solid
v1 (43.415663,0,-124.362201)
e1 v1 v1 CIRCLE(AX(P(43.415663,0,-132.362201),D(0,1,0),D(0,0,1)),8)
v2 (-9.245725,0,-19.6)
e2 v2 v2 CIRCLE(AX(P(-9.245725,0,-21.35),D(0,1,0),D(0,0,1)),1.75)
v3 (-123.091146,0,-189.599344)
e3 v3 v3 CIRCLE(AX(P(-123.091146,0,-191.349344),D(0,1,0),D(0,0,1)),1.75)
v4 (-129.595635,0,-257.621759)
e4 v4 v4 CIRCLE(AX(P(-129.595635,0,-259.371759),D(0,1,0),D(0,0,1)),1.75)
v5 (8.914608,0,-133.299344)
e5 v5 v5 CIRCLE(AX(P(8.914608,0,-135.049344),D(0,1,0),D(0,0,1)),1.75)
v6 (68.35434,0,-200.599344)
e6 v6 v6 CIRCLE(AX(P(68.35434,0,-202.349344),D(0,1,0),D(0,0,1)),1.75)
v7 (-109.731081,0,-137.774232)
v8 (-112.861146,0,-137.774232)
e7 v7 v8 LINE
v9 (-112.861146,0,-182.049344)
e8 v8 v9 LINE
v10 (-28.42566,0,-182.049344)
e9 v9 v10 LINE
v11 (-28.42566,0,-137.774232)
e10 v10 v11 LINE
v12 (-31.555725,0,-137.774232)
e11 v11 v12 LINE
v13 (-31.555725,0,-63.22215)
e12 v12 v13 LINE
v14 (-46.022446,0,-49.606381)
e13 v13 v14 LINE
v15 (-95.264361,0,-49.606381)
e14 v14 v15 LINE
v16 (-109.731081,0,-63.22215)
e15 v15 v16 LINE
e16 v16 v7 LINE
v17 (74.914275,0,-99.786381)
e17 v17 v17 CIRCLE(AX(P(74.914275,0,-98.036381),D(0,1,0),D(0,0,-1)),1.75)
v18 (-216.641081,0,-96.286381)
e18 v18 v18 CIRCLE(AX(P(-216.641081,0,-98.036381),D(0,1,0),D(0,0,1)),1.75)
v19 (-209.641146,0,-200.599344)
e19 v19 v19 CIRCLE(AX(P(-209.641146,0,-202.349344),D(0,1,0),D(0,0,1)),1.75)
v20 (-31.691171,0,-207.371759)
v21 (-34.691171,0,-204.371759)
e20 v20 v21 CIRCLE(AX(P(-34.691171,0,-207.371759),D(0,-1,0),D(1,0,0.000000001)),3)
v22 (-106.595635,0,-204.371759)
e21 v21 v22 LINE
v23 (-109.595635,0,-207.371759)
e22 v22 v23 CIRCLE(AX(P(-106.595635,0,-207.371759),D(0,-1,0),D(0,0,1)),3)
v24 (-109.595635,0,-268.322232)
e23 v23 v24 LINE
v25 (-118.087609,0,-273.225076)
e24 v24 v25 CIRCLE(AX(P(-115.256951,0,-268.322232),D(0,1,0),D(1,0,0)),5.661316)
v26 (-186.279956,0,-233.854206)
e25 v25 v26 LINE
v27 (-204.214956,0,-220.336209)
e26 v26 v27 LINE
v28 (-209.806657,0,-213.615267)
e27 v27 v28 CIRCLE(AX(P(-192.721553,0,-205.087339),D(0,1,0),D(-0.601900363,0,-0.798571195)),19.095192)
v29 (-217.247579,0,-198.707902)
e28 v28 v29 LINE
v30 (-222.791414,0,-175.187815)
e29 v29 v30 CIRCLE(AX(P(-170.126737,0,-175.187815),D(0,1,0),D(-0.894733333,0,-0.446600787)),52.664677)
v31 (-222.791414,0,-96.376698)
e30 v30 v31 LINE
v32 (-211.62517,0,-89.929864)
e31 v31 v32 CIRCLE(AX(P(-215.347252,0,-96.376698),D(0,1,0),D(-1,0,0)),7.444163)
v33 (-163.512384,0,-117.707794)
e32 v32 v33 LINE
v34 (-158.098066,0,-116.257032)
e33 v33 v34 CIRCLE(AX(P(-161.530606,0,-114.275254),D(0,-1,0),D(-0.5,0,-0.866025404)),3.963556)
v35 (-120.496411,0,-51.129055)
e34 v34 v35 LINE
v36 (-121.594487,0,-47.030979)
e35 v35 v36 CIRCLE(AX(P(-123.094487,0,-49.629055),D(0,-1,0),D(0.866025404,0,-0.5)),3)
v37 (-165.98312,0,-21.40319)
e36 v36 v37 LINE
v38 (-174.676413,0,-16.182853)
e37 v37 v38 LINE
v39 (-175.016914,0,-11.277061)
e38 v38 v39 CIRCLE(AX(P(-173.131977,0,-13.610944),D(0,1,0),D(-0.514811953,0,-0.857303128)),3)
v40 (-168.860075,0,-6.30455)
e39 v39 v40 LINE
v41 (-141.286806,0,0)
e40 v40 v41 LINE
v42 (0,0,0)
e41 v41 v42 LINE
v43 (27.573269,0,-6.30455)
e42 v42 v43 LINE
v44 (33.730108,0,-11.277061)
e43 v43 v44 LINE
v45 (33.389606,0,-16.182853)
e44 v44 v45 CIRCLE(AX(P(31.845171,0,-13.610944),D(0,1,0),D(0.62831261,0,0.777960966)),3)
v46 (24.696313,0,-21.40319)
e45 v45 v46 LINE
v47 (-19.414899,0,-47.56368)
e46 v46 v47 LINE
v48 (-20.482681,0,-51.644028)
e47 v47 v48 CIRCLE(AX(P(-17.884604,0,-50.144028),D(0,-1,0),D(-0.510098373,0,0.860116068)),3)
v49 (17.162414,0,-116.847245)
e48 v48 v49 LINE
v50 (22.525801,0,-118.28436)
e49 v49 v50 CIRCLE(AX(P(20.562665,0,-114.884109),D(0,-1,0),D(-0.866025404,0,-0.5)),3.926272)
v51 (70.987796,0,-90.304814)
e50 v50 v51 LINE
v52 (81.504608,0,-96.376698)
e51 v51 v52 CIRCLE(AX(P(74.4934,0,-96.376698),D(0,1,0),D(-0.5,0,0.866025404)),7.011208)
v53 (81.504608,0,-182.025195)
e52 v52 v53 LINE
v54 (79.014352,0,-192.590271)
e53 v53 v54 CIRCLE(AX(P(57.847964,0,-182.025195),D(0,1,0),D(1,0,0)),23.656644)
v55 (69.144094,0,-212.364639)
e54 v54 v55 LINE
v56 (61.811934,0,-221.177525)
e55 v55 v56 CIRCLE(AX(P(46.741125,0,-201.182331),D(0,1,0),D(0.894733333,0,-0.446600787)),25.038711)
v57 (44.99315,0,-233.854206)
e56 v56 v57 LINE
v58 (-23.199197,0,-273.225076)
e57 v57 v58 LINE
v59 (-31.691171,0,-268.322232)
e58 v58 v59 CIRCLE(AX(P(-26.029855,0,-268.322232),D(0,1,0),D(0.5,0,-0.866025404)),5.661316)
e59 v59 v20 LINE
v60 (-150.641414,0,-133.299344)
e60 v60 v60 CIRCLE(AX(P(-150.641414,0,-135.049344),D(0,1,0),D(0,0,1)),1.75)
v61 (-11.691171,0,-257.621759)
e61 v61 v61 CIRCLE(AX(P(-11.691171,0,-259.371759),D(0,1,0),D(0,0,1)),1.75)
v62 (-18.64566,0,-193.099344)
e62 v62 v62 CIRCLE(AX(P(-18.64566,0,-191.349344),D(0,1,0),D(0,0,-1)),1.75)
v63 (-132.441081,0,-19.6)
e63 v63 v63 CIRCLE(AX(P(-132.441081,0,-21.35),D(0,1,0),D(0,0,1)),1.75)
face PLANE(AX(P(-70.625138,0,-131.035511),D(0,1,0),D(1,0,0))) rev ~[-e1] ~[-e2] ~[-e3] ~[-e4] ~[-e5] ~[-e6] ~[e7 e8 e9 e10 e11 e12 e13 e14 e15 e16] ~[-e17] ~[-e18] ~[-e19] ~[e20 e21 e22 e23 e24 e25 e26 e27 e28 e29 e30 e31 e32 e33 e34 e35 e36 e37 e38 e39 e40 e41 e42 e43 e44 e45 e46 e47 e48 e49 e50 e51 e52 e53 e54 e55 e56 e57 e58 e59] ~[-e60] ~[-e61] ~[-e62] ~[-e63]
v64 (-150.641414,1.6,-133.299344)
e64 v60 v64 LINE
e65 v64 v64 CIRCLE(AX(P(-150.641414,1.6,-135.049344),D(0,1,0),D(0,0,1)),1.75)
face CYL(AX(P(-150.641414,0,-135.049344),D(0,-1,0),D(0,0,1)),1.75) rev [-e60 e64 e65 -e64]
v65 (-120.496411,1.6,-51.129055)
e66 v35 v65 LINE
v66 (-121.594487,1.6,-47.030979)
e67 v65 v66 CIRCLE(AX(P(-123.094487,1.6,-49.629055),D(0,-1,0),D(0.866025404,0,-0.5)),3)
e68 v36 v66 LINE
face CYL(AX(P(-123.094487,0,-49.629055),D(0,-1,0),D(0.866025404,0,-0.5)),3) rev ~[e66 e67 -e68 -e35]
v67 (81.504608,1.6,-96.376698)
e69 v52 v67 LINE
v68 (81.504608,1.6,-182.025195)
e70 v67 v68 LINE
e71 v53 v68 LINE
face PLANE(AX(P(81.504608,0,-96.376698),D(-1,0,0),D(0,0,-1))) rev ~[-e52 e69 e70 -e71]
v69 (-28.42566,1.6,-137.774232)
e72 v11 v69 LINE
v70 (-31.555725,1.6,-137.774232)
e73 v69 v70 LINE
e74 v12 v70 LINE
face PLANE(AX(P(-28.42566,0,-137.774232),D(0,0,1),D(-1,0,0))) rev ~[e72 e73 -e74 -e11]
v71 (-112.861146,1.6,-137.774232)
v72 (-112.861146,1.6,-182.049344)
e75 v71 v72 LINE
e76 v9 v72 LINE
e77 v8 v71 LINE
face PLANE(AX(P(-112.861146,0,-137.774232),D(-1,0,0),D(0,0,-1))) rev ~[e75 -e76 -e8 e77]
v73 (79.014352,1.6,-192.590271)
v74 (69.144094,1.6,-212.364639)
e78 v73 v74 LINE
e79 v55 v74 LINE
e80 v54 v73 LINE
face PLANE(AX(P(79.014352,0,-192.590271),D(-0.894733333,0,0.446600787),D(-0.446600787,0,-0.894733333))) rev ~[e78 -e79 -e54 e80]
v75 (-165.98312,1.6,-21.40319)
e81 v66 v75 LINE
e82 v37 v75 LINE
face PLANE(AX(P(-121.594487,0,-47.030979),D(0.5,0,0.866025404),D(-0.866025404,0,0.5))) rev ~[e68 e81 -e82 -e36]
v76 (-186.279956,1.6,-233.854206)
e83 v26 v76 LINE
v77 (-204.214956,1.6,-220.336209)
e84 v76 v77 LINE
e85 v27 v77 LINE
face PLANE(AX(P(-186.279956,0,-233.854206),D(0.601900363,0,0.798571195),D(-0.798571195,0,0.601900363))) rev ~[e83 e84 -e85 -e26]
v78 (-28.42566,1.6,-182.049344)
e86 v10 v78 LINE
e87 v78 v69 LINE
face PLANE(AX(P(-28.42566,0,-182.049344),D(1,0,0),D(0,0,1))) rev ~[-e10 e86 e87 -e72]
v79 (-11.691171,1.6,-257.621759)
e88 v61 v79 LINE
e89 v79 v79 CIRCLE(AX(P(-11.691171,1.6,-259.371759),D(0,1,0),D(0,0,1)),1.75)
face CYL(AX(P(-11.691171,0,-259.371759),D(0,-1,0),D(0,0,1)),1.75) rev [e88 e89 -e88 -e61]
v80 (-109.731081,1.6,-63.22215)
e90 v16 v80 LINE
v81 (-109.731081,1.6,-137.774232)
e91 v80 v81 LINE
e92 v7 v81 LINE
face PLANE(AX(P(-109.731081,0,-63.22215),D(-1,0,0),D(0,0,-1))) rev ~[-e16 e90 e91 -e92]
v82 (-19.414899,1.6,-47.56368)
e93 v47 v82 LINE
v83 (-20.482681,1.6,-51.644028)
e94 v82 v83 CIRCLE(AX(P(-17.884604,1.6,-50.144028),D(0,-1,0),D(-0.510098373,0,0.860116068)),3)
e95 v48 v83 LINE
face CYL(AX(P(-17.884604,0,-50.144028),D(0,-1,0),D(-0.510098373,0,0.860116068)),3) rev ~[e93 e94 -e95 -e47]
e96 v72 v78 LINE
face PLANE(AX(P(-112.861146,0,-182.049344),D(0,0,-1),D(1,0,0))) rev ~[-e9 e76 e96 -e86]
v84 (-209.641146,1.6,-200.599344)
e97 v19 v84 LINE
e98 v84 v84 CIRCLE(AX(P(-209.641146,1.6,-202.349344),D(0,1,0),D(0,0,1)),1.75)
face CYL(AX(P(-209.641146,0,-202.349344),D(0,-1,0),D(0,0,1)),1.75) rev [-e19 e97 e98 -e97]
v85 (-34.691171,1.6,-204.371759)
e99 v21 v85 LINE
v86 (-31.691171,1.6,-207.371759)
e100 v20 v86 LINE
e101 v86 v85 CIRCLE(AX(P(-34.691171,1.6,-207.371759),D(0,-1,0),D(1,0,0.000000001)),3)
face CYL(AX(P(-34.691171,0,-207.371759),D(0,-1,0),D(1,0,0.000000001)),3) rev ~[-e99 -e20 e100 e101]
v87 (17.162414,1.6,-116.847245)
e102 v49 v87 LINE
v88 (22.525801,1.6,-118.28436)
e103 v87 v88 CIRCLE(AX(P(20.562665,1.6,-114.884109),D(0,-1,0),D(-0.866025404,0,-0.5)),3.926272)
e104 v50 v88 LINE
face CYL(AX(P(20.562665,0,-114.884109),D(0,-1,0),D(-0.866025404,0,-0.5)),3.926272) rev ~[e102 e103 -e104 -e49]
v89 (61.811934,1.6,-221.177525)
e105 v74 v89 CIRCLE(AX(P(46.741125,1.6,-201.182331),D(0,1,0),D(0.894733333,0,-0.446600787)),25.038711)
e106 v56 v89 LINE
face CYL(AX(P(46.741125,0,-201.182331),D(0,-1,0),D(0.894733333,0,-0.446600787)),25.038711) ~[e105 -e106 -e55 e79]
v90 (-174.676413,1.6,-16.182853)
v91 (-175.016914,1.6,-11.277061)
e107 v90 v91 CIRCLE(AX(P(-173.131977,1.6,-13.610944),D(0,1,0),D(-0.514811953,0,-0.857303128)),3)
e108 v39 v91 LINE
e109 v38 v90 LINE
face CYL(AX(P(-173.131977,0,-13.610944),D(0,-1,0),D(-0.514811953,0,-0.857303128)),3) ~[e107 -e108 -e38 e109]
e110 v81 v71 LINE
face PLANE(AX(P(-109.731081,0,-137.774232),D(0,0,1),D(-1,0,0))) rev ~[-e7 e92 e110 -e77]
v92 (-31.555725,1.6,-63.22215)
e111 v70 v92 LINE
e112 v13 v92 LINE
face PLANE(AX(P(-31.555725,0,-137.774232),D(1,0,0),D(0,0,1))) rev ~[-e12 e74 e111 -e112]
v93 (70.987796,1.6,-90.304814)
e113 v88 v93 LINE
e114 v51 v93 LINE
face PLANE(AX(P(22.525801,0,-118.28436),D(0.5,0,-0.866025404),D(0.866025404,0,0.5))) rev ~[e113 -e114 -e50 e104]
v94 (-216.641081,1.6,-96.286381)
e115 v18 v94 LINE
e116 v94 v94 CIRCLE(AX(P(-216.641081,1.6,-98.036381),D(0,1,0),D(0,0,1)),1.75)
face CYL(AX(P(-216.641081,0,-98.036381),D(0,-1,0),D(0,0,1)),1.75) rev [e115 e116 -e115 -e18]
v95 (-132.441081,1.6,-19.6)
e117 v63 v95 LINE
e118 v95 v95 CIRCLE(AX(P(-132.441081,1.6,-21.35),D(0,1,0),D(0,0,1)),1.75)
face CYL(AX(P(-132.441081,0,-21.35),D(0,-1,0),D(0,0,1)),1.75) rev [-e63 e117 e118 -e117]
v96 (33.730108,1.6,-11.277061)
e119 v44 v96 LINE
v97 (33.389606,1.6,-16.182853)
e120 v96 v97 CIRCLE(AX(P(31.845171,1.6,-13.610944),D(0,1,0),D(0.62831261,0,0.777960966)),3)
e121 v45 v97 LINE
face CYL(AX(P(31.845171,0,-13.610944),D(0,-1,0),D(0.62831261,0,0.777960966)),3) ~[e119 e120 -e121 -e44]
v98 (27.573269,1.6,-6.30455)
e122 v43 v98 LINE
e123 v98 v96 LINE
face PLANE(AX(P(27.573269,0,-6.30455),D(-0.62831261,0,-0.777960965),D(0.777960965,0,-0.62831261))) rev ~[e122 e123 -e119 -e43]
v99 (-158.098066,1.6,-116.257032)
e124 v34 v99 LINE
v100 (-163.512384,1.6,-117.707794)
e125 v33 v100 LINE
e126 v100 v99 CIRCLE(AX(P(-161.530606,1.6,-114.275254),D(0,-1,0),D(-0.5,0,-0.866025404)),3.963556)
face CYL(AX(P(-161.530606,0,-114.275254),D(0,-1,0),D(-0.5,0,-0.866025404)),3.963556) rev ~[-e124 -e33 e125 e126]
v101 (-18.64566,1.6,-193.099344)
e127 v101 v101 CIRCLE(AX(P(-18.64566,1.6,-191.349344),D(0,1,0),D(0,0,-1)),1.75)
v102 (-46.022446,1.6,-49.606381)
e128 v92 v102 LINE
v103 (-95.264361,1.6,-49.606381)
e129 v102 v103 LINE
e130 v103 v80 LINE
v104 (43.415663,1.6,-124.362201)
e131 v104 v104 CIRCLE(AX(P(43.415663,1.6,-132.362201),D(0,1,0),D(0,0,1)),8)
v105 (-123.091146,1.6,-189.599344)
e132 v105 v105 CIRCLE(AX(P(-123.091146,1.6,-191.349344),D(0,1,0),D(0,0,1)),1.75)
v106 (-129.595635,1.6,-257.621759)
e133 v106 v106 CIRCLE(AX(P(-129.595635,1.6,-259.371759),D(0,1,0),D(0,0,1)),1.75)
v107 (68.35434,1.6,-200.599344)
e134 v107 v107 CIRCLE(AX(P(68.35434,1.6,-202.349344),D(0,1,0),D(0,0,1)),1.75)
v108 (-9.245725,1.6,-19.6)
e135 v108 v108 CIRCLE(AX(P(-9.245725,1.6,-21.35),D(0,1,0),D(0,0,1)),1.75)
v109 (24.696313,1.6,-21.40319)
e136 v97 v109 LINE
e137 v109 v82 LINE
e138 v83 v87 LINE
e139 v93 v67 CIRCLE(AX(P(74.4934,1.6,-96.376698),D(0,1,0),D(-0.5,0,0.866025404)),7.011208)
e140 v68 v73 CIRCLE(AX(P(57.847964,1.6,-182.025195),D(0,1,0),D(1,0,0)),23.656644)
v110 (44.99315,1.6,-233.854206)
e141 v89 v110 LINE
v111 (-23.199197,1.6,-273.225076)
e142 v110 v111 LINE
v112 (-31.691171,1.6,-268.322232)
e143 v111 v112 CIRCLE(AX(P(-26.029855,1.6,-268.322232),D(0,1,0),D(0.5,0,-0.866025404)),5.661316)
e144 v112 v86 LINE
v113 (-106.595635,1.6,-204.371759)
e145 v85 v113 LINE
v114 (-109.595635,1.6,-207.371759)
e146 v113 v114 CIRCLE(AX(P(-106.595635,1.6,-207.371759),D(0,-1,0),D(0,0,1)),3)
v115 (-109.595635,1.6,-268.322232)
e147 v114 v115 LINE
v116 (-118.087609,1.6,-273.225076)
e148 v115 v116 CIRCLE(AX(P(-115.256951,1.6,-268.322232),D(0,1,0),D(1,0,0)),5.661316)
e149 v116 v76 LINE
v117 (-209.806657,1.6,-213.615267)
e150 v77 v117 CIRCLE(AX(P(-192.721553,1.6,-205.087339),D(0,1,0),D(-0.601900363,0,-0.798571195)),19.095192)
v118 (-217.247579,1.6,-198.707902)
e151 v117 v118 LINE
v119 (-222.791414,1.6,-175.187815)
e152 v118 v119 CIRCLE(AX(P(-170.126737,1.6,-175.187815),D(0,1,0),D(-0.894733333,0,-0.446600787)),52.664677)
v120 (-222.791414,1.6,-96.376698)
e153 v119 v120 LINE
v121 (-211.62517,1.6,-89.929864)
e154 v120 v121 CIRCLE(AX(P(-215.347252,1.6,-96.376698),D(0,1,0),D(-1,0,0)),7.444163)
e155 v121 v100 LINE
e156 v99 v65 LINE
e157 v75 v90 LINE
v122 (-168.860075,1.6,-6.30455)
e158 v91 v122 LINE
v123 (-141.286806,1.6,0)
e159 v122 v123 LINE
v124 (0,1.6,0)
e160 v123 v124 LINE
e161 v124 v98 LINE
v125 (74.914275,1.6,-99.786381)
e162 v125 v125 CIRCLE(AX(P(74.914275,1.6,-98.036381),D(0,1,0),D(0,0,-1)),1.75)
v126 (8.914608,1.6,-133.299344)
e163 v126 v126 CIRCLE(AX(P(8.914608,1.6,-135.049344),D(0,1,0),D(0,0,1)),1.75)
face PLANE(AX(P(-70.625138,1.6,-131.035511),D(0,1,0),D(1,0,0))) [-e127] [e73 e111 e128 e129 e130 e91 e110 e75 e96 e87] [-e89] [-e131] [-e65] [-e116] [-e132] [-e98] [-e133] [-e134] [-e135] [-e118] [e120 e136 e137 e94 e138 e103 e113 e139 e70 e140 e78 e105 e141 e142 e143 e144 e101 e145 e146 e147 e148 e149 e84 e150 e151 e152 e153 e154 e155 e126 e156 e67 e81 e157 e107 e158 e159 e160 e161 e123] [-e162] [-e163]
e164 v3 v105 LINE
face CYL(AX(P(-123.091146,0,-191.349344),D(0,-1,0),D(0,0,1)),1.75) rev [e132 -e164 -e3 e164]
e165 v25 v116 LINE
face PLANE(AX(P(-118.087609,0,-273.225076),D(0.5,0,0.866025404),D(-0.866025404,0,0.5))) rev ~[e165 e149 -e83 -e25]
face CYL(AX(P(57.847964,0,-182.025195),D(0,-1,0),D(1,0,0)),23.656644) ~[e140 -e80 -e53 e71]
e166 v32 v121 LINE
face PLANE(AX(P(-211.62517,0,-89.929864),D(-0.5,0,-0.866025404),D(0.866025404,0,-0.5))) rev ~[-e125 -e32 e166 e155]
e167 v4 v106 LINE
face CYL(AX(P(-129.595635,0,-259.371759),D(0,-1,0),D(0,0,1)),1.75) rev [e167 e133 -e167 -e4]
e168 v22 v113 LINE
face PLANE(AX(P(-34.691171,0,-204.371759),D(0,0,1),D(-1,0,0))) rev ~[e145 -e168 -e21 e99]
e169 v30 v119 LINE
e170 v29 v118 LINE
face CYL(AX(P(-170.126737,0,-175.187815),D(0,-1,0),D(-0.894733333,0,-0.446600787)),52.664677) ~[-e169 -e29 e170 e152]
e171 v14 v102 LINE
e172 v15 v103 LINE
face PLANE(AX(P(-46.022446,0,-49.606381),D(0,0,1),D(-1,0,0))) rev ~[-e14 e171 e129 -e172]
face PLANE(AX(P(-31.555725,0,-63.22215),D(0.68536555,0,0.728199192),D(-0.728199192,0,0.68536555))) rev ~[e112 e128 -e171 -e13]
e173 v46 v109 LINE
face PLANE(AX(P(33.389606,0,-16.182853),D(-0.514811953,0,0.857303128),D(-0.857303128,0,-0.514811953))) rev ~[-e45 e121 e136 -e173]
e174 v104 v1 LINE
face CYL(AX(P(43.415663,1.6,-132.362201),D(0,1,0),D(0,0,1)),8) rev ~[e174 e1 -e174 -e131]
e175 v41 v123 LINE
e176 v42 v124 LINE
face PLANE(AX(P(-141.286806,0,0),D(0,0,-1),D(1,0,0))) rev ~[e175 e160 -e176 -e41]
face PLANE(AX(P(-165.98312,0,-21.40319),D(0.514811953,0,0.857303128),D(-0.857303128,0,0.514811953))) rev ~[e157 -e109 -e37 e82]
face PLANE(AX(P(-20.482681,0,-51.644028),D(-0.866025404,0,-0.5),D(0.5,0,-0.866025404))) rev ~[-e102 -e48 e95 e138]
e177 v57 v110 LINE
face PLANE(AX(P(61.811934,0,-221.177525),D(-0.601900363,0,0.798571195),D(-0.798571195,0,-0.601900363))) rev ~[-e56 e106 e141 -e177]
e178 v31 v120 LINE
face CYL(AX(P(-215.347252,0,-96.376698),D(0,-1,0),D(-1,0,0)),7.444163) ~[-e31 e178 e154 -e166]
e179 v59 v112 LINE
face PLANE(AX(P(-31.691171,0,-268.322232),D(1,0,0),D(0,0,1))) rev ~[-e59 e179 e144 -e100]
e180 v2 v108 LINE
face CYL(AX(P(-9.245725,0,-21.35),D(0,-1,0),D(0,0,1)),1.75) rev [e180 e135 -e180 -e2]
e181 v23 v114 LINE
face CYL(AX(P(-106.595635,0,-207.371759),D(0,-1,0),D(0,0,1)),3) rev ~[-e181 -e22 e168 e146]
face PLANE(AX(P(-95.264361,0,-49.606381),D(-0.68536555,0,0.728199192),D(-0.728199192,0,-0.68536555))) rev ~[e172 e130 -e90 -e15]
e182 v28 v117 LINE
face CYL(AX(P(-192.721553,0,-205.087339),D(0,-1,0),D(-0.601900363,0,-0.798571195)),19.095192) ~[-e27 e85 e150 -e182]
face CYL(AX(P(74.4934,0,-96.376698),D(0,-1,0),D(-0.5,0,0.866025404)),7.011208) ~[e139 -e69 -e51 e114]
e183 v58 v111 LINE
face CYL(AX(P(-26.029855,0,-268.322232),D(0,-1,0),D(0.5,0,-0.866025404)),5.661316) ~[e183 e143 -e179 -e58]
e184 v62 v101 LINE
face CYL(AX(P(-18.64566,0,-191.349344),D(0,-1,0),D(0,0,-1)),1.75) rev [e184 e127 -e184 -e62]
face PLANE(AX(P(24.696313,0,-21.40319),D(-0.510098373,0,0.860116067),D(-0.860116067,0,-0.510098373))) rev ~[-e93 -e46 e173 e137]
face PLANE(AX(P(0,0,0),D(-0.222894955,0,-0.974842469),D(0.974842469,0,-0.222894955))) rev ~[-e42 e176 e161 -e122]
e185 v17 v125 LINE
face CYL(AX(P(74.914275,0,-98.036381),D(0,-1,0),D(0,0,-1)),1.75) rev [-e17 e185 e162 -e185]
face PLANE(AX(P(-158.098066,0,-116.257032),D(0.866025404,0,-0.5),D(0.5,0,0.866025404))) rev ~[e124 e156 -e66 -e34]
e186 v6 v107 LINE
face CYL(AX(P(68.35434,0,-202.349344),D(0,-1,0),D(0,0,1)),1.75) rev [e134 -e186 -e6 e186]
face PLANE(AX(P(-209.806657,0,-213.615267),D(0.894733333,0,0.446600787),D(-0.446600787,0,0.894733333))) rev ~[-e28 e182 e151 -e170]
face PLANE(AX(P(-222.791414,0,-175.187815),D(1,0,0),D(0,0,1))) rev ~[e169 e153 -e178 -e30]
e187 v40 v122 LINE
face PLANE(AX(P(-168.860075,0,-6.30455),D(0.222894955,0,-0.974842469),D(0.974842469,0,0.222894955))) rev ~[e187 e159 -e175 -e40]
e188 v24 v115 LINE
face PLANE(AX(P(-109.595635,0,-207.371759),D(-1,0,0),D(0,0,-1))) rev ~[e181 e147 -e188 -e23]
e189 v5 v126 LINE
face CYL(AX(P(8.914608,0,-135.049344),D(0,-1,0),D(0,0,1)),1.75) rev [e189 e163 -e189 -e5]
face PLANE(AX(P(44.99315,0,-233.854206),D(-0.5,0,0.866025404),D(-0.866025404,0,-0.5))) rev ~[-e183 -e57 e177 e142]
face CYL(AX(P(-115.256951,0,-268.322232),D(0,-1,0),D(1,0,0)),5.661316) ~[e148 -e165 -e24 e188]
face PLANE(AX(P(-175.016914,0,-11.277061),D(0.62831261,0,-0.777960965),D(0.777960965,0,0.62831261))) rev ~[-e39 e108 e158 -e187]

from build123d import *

# Parameters (mm, degrees)
SKETCH1_R           = 1.75
BOSS_EXTRUDE1_DEPTH = 1.6
SKETCH3_R           = 8
CUT_EXTRUDE1_DEPTH  = 1.6


with BuildPart() as part:
    # Sketch1 → Boss-Extrude1 (new body)
    with BuildSketch(Plane(origin=(0, 0, 0), x_dir=(1, 0, 0), z_dir=(0, 1, 0))):
        with BuildLine():
            Line((24.696313384, 21.403189927), (-19.414899465, 47.563680085))
            ThreePointArc((-19.414899465, 47.563680085), (-20.786874634, 49.384536896), (-20.482680557, 51.644028288))
            Line((-20.482680557, 51.644028288), (17.162414168, 116.847245007))
            ThreePointArc((17.162414168, 116.847245007), (19.546471274, 118.676596366), (22.525800971, 118.28436017))
            Line((22.525800971, 118.28436017), (70.987796177, 90.304814192))
            ThreePointArc((70.987796177, 90.304814192), (77.999004119, 90.304814192), (81.50460809, 96.376698381))
            Line((81.50460809, 96.376698381), (81.50460809, 182.02519482))
            ThreePointArc((81.50460809, 182.02519482), (80.873629228, 187.452491566), (79.01435205, 192.590270527))
            Line((79.01435205, 192.590270527), (69.144094326, 212.364639151))
            ThreePointArc((69.144094326, 212.364639151), (65.989183491, 217.196365343), (61.81193417, 221.177524531))
            Line((61.81193417, 221.177524531), (44.99314954, 233.854205885))
            Line((44.99314954, 233.854205885), (-23.199197227, 273.225075648))
            ThreePointArc((-23.199197227, 273.225075648), (-28.860512938, 273.225075648), (-31.691170793, 268.322232423))
            Line((-31.691170793, 268.322232423), (-31.691170793, 207.371759387))
            ThreePointArc((-31.691170793, 207.371759387), (-32.56985045, 205.250439044), (-34.691170793, 204.371759387))
            Line((-34.691170793, 204.371759387), (-106.595635326, 204.371759387))
            ThreePointArc((-106.595635326, 204.371759387), (-108.71695567, 205.250439044), (-109.595635326, 207.371759387))
            Line((-109.595635326, 207.371759387), (-109.595635326, 268.322232423))
            ThreePointArc((-109.595635326, 268.322232423), (-112.426293182, 273.225075648), (-118.087608892, 273.225075648))
            Line((-118.087608892, 273.225075648), (-186.279955659, 233.854205885))
            Line((-186.279955659, 233.854205885), (-204.21495553, 220.336208987))
            ThreePointArc((-204.21495553, 220.336208987), (-207.400637767, 217.300070339), (-209.806657286, 213.615266508))
            Line((-209.806657286, 213.615266508), (-217.247579174, 198.707901735))
            ThreePointArc((-217.247579174, 198.707901735), (-221.386722215, 187.270122423), (-222.791414209, 175.187815477))
            Line((-222.791414209, 175.187815477), (-222.791414209, 96.376698381))
            ThreePointArc((-222.791414209, 96.376698381), (-219.069332913, 89.929864467), (-211.625170321, 89.929864467))
            Line((-211.625170321, 89.929864467), (-163.512384372, 117.707794386))
            ThreePointArc((-163.512384372, 117.707794386), (-160.504762554, 118.10375531), (-158.098066116, 116.257032182))
            Line((-158.098066116, 116.257032182), (-120.496410943, 51.129054973))
            ThreePointArc((-120.496410943, 51.129054973), (-120.196709676, 48.852597838), (-121.594487155, 47.030978762))
            Line((-121.594487155, 47.030978762), (-165.983119503, 21.403189927))
            Line((-165.983119503, 21.403189927), (-174.676412504, 16.182853027))
            ThreePointArc((-174.676412504, 16.182853027), (-176.124776412, 13.818668342), (-175.016914475, 11.277060748))
            Line((-175.016914475, 11.277060748), (-168.860075369, 6.304549502))
            Line((-168.860075369, 6.304549502), (-141.286806119, 0))
            Line((-141.286806119, 0), (0, 0))
            Line((0, 0), (27.57326925, 6.304549502))
            Line((27.57326925, 6.304549502), (33.730108356, 11.277060748))
            ThreePointArc((33.730108356, 11.277060748), (34.837970293, 13.818668342), (33.389606385, 16.182853027))
            Line((33.389606385, 16.182853027), (24.696313384, 21.403189927))
        make_face()
        with Locations(Location((-123.091146174, 191.349343748, 0), (0, 0, 270))):
            Circle(SKETCH1_R, mode=Mode.SUBTRACT)
        with Locations(Location((-216.641081117, 98.036380822, 0), (0, 0, 270))):
            Circle(SKETCH1_R, mode=Mode.SUBTRACT)
        with Locations(Location((-18.645659945, 191.349343748, 0), (0, 0, 90))):
            Circle(SKETCH1_R, mode=Mode.SUBTRACT)
        with Locations(Location((74.914274997, 98.036380822, 0), (0, 0, 90))):
            Circle(SKETCH1_R, mode=Mode.SUBTRACT)
        with Locations(Location((-9.245725003, 21.35, 0), (0, 0, 270))):
            Circle(SKETCH1_R, mode=Mode.SUBTRACT)
        with Locations(Location((-132.441081117, 21.35, 0), (0, 0, 270))):
            Circle(SKETCH1_R, mode=Mode.SUBTRACT)
        with Locations(Location((-150.641414209, 135.049343748, 0), (0, 0, 270))):
            Circle(SKETCH1_R, mode=Mode.SUBTRACT)
        with Locations(Location((8.91460809, 135.049343748, 0), (0, 0, 270))):
            Circle(SKETCH1_R, mode=Mode.SUBTRACT)
        with Locations(Location((68.354340055, 202.349343748, 0), (0, 0, 270))):
            Circle(SKETCH1_R, mode=Mode.SUBTRACT)
        with Locations(Location((-11.691170793, 259.371759387, 0), (0, 0, 270))):
            Circle(SKETCH1_R, mode=Mode.SUBTRACT)
        with Locations(Location((-129.595635326, 259.371759387, 0), (0, 0, 270))):
            Circle(SKETCH1_R, mode=Mode.SUBTRACT)
        with Locations(Location((-209.641146174, 202.349343748, 0), (0, 0, 270))):
            Circle(SKETCH1_R, mode=Mode.SUBTRACT)
        Polygon((-31.555725003, 63.222149708), (-46.022445575, 49.606380822), (-95.264360544, 49.606380822), (-109.731081117, 63.222149708), (-109.731081117, 137.774232151), (-112.861146174, 137.774232151), (-112.861146174, 182.049343748), (-28.425659945, 182.049343748), (-28.425659945, 137.774232151), (-31.555725003, 137.774232151), align=None, mode=Mode.SUBTRACT)
    extrude(amount=BOSS_EXTRUDE1_DEPTH)

    # Sketch3 → Cut-Extrude1 (cut)
    with BuildSketch(Plane(origin=(0, 1.6, 0), x_dir=(1, 0, 0), z_dir=(0, 1, 0))):
        with Locations(Location((43.415663258, 132.362201431, 0), (0, 0, 270))):
            Circle(SKETCH3_R)
    extrude(amount=-CUT_EXTRUDE1_DEPTH, mode=Mode.SUBTRACT)


solid = part.part
